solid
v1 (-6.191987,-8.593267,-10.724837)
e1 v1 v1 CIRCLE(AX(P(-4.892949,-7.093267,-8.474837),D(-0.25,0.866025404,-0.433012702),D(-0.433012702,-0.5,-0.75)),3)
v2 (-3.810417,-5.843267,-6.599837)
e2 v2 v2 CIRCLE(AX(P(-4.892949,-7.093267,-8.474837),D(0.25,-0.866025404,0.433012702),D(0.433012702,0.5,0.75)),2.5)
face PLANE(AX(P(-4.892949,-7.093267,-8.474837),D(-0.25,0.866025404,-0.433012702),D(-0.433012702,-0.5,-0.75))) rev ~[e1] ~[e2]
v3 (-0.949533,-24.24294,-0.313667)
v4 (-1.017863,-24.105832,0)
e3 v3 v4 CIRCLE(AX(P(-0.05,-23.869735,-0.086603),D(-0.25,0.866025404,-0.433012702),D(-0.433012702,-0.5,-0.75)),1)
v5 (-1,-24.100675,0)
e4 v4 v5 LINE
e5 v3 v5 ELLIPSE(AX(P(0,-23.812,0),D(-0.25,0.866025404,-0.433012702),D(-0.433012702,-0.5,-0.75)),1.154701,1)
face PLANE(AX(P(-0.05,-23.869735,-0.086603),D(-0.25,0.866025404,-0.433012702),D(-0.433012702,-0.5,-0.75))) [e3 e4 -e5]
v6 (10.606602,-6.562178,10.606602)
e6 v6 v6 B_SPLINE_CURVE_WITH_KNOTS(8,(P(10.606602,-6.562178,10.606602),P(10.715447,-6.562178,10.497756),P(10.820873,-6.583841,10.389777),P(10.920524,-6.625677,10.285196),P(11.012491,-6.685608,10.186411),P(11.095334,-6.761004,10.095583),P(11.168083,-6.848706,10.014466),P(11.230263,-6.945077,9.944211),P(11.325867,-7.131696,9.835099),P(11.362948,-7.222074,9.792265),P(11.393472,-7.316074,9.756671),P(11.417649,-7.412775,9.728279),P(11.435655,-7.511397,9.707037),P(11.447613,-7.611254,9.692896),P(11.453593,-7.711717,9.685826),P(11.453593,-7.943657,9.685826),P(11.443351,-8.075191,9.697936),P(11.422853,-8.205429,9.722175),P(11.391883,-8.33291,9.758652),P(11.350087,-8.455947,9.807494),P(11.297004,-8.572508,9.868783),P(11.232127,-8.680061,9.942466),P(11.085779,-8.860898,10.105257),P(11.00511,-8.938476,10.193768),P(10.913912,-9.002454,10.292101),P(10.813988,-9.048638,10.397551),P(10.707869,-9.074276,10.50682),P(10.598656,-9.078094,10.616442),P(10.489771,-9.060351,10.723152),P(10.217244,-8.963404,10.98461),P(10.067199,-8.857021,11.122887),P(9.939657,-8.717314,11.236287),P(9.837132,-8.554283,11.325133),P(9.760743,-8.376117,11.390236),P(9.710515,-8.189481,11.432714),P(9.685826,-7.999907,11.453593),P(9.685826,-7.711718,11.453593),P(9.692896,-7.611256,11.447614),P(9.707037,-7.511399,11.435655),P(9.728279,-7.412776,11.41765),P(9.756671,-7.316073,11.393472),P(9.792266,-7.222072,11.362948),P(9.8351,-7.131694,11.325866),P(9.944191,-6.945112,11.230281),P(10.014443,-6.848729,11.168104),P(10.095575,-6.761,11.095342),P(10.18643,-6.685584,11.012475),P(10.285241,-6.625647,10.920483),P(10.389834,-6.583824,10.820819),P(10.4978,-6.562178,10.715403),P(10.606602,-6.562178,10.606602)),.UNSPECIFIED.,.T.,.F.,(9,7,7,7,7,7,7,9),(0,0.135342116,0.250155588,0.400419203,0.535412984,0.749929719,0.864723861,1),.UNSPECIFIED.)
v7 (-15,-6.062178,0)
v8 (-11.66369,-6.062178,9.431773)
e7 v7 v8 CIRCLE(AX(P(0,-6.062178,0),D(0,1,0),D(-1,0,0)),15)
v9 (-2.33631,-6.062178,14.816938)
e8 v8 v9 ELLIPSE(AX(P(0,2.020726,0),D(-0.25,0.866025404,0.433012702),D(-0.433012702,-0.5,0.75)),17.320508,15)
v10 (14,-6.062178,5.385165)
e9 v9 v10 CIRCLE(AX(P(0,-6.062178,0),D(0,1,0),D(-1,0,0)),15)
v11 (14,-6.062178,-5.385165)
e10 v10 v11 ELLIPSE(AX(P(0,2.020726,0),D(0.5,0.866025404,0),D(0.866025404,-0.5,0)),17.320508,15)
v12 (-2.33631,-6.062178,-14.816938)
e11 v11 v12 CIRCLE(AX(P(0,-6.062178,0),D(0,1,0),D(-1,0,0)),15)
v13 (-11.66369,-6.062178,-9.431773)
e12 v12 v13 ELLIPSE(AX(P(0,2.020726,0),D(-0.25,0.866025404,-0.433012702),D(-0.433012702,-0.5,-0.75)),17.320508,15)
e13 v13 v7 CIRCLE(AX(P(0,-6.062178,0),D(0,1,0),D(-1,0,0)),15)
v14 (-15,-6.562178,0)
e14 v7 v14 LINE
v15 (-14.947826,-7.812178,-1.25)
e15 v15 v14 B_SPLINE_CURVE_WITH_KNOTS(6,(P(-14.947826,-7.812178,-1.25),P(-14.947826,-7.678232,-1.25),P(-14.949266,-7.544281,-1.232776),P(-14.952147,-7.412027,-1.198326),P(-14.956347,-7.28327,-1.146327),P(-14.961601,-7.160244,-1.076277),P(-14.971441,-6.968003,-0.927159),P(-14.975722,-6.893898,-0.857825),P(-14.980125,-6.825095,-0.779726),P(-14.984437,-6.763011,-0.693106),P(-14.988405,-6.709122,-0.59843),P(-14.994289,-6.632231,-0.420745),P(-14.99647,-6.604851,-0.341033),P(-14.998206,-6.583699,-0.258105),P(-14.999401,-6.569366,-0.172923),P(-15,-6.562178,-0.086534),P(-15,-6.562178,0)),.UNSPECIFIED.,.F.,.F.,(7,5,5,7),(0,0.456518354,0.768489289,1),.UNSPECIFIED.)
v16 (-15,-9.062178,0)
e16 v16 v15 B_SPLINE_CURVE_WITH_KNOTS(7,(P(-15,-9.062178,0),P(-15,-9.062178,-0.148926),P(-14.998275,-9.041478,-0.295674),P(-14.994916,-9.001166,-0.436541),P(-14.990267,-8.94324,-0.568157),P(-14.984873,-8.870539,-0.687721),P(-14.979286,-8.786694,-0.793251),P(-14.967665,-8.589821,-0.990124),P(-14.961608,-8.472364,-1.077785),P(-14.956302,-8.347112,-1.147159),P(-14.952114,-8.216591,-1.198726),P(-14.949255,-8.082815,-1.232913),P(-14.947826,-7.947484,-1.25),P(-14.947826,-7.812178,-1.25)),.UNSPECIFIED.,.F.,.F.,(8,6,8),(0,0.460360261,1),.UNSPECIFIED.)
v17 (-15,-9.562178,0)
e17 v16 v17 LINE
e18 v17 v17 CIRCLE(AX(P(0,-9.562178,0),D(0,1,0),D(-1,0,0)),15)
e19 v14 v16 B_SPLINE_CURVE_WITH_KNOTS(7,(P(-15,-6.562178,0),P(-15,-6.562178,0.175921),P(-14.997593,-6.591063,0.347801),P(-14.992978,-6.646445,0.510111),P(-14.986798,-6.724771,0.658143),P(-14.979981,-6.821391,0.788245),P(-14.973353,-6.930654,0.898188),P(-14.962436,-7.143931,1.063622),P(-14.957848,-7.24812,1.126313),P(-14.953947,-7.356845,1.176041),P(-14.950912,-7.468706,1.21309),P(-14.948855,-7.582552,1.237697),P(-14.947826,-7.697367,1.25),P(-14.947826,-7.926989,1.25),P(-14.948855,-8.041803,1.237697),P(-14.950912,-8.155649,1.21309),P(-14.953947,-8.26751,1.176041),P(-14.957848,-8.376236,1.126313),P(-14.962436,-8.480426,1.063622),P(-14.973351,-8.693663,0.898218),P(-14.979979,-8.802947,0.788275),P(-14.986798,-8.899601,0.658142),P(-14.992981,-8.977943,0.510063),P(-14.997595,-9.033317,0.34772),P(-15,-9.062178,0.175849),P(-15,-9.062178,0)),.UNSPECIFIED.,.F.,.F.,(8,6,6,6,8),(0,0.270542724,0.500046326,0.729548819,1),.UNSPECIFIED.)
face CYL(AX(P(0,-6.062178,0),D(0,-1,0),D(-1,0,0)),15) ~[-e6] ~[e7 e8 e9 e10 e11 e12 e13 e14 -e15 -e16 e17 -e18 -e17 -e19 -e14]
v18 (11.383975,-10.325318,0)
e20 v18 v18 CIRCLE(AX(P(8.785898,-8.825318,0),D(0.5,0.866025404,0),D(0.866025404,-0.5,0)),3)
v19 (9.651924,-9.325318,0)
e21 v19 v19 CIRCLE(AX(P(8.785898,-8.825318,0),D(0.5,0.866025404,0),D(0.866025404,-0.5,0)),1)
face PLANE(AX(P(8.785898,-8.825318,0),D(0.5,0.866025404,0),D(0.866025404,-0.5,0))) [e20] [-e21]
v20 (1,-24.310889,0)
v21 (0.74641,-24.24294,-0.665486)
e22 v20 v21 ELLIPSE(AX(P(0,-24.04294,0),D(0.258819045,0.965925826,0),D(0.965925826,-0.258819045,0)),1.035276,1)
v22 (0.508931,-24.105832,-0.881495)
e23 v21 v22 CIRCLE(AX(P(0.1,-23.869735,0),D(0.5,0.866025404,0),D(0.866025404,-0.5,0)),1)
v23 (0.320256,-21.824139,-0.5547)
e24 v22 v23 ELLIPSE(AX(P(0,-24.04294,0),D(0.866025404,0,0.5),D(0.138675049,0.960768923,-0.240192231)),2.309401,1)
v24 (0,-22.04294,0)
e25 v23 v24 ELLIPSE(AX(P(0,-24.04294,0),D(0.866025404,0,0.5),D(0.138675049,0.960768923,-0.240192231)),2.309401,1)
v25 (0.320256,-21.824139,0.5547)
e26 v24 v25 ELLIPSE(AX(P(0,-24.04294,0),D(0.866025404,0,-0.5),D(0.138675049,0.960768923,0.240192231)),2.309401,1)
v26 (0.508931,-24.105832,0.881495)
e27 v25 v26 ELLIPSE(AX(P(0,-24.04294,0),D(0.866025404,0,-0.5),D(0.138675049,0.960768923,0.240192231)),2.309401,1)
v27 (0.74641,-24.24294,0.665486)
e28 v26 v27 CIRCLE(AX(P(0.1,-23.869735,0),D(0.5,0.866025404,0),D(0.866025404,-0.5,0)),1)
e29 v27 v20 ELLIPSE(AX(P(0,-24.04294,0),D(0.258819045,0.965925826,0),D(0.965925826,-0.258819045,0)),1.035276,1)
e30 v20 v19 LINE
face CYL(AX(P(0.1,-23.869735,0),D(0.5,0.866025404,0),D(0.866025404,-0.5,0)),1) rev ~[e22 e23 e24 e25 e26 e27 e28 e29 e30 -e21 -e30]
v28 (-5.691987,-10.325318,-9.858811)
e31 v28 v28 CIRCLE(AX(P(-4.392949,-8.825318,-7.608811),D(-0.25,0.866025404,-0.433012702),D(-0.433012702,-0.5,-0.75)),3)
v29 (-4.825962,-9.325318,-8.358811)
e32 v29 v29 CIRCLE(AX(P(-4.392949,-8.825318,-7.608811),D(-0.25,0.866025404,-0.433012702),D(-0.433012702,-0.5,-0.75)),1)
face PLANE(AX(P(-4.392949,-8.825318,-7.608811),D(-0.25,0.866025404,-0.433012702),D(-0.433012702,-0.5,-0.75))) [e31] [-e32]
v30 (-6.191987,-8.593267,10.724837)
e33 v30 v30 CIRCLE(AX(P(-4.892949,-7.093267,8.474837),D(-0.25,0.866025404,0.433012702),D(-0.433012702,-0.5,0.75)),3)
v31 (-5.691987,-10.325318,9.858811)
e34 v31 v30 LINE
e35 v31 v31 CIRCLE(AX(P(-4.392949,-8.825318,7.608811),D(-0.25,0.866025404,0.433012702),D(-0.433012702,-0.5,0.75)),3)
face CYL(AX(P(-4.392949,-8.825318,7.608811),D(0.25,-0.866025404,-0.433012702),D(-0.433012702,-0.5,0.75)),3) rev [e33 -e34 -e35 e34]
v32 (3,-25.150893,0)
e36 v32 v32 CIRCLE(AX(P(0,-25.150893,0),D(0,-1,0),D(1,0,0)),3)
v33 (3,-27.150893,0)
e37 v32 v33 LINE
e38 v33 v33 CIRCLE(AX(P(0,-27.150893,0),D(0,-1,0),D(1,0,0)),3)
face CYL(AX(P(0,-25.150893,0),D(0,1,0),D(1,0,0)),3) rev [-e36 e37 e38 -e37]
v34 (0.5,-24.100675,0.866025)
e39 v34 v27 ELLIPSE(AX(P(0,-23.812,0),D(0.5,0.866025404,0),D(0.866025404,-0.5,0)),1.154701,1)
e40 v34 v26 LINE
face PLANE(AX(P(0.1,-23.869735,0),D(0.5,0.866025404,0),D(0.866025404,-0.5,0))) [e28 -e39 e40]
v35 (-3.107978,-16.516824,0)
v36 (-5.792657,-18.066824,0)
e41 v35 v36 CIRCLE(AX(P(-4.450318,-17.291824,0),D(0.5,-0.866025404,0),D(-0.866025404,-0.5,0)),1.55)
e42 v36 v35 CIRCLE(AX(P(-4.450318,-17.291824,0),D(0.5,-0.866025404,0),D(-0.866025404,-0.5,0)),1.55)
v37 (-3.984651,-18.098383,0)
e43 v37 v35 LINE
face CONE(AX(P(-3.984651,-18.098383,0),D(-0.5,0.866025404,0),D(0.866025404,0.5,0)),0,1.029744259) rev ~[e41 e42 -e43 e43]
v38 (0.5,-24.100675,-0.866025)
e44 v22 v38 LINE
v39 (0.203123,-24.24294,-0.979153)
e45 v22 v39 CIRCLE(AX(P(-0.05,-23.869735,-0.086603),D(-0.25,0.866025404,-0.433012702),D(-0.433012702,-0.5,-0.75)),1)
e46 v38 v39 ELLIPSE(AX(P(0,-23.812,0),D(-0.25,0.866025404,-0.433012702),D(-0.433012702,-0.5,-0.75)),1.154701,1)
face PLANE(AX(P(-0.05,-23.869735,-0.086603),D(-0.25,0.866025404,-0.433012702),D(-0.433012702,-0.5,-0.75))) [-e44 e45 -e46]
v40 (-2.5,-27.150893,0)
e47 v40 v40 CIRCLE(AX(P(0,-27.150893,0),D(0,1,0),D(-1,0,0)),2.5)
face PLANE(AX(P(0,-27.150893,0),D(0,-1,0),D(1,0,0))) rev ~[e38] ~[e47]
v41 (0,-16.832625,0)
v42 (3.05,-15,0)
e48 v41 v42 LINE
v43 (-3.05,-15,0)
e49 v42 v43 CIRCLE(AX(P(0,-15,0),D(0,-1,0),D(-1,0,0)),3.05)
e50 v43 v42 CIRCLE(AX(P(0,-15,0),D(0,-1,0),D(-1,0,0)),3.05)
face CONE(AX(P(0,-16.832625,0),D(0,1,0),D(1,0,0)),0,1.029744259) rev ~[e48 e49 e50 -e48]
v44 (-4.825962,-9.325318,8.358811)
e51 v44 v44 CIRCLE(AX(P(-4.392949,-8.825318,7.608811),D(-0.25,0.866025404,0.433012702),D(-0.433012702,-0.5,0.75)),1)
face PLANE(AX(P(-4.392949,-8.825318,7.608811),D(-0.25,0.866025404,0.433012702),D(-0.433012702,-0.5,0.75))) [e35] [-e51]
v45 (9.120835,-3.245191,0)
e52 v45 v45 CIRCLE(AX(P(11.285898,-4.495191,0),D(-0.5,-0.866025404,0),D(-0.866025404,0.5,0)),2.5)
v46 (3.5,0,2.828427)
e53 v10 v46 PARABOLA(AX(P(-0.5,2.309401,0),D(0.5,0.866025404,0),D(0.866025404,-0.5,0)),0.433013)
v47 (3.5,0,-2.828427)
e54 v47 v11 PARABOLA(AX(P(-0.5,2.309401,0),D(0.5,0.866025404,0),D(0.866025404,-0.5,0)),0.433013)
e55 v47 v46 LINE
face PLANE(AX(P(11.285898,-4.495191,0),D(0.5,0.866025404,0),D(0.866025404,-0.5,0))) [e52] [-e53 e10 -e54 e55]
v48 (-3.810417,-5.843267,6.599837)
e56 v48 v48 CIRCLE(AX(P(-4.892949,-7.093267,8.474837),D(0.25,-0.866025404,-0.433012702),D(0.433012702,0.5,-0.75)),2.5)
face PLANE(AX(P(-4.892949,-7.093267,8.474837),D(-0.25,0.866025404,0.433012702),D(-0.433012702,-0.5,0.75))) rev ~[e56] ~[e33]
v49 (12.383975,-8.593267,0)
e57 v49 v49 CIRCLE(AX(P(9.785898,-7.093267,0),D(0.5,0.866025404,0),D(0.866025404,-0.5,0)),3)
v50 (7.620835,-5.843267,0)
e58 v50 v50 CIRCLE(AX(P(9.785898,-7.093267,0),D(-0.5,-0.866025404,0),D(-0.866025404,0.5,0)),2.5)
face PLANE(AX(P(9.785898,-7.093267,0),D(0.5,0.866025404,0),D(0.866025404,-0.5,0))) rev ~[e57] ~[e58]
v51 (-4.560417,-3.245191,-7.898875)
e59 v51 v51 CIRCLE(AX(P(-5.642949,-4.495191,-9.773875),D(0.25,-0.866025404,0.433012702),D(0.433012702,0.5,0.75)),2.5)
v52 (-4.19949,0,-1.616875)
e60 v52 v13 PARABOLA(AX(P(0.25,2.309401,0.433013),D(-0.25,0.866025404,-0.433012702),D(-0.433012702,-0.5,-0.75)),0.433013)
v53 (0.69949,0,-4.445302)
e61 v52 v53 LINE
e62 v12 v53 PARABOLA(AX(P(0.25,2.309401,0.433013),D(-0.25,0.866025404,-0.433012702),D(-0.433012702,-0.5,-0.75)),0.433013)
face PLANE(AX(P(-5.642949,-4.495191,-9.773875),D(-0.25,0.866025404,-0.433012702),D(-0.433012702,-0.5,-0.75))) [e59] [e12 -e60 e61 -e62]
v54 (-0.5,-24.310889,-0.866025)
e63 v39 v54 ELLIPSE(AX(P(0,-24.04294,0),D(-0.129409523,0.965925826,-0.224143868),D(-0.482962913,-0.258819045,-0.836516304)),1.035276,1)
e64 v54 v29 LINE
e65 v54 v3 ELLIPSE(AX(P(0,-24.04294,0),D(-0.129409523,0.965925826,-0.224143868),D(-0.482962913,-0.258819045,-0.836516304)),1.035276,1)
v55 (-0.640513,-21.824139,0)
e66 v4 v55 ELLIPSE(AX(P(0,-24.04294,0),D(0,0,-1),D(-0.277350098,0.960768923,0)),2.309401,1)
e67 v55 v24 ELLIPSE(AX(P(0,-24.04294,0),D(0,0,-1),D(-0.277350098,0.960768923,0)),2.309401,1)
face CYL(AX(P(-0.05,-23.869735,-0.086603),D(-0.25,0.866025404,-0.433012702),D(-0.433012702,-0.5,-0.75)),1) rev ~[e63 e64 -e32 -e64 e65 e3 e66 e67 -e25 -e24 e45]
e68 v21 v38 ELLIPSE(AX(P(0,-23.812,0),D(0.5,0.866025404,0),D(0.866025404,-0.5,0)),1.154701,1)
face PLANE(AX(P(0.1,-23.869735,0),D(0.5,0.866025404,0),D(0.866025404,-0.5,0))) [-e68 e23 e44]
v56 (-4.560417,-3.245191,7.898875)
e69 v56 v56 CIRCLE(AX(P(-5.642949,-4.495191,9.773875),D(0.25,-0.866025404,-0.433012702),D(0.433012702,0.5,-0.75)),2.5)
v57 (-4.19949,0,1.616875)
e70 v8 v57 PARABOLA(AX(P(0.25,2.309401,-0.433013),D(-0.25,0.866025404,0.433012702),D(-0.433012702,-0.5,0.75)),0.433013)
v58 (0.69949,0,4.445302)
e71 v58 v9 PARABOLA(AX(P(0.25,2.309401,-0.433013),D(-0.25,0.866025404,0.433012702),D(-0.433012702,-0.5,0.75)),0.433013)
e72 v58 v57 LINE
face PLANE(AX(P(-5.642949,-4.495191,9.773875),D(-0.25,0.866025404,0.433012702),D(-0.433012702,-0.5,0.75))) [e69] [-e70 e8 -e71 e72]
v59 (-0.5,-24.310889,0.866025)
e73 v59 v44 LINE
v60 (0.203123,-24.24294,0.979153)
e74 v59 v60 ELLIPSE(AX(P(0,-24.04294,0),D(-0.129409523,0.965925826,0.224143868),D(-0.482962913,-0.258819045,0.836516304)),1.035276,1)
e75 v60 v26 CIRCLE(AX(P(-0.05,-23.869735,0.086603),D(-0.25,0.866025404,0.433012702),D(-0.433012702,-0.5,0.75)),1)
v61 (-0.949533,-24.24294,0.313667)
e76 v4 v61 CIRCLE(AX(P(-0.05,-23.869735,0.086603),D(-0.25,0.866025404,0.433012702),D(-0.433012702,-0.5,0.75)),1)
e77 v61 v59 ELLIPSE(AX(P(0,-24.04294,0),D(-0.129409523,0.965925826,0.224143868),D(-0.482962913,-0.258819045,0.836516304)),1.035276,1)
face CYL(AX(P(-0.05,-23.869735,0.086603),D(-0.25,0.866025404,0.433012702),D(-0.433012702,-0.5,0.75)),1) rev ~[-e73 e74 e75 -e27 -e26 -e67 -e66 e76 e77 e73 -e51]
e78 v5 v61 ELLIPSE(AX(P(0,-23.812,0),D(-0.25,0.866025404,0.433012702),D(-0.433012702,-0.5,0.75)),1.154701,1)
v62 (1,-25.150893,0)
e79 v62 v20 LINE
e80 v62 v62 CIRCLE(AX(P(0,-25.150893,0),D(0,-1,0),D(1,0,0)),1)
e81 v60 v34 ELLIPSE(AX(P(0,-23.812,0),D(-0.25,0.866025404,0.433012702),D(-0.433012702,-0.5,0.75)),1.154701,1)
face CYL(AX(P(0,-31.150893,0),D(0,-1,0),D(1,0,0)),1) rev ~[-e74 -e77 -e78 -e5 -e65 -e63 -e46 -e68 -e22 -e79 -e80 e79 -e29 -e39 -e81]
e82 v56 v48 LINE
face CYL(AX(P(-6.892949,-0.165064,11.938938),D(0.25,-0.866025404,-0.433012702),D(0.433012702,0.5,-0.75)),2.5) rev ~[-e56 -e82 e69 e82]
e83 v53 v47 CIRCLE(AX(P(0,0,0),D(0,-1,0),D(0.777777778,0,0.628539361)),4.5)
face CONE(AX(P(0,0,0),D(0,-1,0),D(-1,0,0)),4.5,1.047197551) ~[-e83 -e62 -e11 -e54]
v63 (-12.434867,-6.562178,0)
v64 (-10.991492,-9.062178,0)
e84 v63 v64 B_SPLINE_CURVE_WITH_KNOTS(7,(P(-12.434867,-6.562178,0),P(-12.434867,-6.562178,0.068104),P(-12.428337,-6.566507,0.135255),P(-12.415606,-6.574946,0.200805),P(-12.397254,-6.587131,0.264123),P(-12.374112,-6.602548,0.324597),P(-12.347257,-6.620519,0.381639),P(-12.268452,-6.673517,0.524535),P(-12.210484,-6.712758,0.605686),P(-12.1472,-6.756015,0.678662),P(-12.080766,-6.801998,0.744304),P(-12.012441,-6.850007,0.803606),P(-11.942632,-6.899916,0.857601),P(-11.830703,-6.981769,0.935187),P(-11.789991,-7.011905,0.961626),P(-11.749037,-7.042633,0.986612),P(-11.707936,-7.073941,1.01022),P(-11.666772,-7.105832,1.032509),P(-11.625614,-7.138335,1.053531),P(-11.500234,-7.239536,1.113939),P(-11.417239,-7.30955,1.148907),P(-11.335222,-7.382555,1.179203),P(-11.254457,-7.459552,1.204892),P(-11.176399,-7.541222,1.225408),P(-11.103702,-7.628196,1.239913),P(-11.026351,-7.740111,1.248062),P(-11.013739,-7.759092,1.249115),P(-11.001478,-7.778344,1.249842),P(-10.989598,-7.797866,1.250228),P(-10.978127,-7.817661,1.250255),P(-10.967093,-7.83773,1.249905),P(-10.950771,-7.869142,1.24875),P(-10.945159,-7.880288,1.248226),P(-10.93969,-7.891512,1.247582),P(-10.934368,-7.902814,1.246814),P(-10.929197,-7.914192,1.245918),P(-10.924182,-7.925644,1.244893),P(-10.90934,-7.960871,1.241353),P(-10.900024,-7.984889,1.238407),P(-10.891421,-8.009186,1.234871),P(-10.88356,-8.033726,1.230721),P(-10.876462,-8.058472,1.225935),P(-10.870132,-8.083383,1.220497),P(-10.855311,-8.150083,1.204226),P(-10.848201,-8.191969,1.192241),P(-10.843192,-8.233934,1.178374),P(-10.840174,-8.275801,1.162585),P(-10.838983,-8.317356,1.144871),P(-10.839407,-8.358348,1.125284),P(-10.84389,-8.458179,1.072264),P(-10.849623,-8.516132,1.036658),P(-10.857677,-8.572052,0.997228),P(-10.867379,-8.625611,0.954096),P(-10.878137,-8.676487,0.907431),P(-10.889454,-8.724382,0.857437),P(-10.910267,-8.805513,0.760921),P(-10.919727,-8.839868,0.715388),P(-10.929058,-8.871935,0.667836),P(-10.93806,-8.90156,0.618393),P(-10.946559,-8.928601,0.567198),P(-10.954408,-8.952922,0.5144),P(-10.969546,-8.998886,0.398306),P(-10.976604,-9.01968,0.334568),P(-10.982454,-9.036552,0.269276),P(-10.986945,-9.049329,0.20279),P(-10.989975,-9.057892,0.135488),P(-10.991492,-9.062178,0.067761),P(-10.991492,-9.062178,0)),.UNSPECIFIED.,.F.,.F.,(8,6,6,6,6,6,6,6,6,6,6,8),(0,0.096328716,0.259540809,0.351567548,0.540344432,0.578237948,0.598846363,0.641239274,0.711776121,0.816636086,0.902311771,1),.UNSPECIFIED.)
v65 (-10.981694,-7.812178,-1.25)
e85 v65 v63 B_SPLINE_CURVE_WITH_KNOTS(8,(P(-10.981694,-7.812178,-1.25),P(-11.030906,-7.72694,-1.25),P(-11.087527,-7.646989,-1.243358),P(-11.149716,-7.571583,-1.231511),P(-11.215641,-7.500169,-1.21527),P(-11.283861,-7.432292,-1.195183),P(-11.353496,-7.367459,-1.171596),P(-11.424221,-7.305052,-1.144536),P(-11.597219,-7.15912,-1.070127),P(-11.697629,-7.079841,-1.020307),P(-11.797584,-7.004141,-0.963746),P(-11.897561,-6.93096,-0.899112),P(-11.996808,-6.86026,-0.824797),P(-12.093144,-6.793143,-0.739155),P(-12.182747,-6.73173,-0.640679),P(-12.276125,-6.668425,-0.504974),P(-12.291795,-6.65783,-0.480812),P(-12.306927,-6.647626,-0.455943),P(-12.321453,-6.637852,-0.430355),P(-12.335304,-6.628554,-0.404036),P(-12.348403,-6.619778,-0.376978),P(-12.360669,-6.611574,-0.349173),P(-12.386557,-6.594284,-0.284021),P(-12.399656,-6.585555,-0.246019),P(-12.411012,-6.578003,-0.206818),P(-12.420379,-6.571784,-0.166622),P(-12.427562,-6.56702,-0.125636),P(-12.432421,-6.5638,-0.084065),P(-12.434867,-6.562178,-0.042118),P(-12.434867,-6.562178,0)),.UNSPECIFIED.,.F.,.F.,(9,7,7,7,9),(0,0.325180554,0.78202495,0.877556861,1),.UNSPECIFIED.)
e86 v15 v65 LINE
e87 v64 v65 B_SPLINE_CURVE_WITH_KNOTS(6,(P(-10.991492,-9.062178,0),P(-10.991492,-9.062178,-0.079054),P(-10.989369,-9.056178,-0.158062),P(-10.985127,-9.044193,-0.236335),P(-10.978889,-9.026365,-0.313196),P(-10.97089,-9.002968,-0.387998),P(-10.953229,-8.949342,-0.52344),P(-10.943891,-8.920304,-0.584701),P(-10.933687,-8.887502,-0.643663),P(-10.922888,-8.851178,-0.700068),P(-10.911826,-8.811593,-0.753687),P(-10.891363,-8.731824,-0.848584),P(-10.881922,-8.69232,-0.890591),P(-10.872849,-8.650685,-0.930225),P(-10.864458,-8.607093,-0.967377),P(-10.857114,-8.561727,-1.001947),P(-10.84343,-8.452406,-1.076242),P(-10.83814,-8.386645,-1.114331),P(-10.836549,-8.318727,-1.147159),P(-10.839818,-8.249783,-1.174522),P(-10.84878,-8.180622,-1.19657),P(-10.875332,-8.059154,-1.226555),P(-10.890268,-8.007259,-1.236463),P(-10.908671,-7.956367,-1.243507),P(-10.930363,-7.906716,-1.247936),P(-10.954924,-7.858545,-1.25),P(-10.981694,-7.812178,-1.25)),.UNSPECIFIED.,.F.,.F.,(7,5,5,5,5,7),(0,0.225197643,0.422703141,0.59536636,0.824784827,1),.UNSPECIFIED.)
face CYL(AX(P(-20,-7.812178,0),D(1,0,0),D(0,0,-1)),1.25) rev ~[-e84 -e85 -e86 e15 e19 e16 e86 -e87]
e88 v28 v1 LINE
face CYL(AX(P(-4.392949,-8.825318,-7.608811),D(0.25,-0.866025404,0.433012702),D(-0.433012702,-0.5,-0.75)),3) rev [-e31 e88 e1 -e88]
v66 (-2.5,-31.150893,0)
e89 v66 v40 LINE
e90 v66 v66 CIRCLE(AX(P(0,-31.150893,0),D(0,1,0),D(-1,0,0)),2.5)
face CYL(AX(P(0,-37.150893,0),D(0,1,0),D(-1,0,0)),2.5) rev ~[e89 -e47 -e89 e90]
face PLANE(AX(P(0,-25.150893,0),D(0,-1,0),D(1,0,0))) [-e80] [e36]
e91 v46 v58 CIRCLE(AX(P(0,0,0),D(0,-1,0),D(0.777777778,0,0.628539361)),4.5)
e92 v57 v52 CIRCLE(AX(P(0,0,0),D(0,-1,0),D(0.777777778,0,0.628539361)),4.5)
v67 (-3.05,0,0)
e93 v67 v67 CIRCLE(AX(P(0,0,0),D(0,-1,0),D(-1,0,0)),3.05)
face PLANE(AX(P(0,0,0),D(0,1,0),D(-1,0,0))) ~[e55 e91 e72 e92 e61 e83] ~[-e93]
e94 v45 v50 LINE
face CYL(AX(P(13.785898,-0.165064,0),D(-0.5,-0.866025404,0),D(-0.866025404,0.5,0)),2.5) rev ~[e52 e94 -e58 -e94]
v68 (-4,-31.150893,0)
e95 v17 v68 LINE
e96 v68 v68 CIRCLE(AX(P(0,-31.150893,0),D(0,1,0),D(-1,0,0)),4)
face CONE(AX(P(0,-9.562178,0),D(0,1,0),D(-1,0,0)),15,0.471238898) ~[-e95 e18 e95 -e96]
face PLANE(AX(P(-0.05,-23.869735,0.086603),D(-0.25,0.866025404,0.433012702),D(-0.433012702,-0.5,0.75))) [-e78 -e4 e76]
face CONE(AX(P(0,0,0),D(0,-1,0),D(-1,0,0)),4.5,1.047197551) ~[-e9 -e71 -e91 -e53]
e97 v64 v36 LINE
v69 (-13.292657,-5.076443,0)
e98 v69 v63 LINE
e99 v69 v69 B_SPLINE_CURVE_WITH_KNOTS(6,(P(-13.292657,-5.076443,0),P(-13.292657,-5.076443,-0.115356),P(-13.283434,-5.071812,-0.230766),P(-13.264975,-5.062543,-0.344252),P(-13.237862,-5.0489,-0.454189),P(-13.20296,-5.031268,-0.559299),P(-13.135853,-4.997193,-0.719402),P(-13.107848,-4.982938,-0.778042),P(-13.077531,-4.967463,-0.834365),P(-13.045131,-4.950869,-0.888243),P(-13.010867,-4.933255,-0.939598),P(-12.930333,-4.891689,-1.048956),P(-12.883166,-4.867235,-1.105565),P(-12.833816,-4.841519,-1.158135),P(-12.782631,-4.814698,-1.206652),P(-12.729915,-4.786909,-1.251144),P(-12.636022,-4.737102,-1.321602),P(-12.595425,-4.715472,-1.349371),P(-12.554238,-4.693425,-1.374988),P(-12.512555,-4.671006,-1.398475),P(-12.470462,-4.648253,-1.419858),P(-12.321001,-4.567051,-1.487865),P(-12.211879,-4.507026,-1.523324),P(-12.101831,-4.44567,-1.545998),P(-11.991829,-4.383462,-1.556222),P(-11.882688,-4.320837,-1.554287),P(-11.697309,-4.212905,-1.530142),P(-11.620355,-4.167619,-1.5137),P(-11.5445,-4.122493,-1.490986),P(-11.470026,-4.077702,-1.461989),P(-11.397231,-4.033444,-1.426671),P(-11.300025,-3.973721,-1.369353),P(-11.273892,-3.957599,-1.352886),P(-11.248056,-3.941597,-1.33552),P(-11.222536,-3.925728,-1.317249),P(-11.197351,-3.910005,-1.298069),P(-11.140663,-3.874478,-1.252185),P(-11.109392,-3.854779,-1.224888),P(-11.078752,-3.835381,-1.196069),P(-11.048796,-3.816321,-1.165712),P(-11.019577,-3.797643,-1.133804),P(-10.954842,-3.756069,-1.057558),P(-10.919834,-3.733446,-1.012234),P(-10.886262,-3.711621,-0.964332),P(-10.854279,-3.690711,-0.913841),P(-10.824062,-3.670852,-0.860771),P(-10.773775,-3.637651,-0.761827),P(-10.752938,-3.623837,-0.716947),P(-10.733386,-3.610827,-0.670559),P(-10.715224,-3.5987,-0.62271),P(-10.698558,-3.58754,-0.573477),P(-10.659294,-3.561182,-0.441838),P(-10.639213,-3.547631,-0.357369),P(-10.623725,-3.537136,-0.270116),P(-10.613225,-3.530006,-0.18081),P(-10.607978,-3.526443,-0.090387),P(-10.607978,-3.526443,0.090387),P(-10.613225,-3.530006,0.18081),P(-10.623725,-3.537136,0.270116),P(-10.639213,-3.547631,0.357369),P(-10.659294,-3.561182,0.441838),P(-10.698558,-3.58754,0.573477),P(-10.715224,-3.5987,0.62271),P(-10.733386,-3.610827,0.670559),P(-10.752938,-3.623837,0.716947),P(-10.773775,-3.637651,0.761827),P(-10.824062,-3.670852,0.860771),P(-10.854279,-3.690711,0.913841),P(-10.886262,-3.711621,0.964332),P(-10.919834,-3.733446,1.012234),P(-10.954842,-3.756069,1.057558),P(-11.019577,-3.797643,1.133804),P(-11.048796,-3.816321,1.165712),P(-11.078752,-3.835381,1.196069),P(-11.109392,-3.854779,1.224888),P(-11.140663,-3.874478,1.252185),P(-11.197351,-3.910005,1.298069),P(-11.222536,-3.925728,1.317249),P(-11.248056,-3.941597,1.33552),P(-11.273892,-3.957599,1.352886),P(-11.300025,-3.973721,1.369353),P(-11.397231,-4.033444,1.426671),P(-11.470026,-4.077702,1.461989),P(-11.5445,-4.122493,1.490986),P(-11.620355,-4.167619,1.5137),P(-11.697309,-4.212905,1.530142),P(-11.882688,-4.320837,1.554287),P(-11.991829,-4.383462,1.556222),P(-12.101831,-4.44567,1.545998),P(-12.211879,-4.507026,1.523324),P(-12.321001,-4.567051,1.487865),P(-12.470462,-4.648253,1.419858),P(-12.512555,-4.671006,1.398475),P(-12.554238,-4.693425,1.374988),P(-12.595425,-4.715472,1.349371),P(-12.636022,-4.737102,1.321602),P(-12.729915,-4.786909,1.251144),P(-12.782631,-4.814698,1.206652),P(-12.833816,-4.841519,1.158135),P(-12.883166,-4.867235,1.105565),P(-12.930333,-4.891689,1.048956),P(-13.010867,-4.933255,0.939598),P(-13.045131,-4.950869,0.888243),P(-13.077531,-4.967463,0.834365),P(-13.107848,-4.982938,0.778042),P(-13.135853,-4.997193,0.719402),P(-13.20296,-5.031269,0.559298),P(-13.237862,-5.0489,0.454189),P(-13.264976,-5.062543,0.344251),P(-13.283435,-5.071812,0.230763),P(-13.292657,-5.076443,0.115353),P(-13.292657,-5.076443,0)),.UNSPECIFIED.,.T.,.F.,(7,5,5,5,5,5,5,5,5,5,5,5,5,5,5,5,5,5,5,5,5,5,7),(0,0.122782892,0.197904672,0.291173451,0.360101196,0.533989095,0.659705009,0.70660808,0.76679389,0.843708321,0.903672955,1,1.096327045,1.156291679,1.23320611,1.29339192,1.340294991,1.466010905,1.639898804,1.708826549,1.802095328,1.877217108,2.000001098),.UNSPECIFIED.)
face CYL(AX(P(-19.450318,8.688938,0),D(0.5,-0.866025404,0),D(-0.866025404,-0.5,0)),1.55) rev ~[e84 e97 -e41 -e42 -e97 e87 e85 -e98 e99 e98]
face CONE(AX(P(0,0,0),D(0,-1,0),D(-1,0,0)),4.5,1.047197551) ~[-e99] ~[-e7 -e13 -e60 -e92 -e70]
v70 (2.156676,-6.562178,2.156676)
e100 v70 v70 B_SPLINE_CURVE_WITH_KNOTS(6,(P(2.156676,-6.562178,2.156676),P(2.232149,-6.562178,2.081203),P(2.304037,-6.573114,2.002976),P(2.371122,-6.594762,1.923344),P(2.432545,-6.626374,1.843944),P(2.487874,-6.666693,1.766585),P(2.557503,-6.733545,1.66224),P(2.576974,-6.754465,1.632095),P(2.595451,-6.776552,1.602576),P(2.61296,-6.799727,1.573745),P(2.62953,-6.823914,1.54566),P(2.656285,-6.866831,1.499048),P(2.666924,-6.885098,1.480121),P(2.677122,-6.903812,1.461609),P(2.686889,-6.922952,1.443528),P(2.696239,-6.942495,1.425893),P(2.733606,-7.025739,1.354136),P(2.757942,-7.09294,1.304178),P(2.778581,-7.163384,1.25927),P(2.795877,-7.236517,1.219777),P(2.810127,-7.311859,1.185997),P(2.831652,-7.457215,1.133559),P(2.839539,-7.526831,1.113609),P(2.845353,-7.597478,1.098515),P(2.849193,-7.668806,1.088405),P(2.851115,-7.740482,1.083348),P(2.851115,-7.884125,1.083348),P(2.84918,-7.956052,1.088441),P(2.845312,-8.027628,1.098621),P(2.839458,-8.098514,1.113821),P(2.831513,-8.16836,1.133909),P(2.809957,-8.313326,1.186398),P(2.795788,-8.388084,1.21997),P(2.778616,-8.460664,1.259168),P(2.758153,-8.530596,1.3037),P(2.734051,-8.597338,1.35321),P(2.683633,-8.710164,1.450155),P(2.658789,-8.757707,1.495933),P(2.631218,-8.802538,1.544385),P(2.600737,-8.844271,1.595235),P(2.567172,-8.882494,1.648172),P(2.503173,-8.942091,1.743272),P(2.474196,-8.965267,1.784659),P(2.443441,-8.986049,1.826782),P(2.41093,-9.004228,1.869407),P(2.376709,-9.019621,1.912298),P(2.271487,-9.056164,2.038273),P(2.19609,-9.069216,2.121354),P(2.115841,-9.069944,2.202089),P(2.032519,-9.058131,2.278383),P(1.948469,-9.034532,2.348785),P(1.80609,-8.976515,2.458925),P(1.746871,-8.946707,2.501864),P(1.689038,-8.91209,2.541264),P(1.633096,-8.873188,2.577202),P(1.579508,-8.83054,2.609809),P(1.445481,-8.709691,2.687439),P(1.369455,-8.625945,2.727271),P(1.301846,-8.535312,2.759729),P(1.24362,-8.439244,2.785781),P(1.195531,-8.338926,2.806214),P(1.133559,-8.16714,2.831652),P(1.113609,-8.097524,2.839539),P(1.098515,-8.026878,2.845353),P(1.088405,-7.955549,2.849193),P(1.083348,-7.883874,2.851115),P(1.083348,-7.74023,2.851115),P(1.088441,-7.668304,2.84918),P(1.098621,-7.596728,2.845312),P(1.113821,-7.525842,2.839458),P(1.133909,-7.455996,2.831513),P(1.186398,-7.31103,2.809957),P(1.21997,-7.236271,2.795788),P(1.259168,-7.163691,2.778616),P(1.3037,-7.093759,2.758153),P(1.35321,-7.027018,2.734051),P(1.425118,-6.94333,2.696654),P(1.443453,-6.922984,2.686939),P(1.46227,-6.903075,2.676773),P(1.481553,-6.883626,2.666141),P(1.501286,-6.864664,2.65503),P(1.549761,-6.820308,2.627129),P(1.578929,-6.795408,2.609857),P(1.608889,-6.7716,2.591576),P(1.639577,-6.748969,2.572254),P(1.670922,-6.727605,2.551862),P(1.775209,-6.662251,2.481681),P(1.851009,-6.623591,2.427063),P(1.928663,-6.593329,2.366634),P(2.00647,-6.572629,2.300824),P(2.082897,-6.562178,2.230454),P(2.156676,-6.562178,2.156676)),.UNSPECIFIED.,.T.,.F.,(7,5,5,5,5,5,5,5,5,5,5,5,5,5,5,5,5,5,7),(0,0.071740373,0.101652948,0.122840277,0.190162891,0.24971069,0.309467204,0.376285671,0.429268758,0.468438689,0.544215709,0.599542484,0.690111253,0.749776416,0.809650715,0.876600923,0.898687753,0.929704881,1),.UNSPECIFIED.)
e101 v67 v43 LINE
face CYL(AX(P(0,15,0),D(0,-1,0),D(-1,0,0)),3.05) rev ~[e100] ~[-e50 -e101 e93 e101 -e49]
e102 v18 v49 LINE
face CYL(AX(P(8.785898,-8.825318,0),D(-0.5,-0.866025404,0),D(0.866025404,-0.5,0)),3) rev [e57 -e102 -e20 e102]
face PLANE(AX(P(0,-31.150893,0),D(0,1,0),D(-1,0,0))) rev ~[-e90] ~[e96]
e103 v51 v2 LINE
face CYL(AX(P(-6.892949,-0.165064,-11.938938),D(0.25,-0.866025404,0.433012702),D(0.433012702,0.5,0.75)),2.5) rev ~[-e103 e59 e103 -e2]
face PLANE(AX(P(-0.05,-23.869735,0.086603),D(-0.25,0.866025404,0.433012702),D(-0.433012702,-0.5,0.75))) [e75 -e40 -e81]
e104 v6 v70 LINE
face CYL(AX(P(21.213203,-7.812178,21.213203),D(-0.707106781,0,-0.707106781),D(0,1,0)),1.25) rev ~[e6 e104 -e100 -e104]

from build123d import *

# Parameters (mm, degrees)
HOLE_WIZARD_M6_1_D       = 6.1
HOLE_WIZARD_M6_1_DEPTH   = 15
HOLE_WIZARD_M6_1_TIP     = 1.832624888
SWEEP_1_PROFILE_R        = 1
SKETCH_66_W              = 50.055068194
SKETCH_66_H              = 43.519791528
CUT_EXTRUDE_4_DEPTH      = 10
HOLE_WIZARD_M6_2_D       = 5
HOLE_WIZARD_M6_2_DEPTH   = 5
PATTERN_CIRCULAR_3_COUNT = 3
SKETCH_33_R              = 1
CUT_EXTRUDE_3_DEPTH      = 8
HOLE_WIZARD_M6_3_D       = 5
HOLE_WIZARD_M6_3_DEPTH   = 6
HOLE_WIZARD_M3_1_D       = 2.5
HOLE_WIZARD_M3_1_DEPTH   = 5
HOLE_WIZARD_M3_1_TIP     = 0.751075774
HOLE_WIZARD_M3_2_D       = 2.5
HOLE_WIZARD_M3_2_DEPTH   = 15
HOLE_WIZARD_M3_2_TIP     = 0.751075774
HOLE_WIZARD_M6_3_2_D     = 3.1
HOLE_WIZARD_M6_3_2_DEPTH = 15
HOLE_WIZARD_M6_3_2_TIP   = 0.931333959
SKETCH_90_R              = 2.5
SKETCH_90_R_2            = 1
SKETCH_90_R_3            = 3
CUT_EXTRUDE_5_DEPTH      = 2
PATTERN_CIRCULAR_5_COUNT = 3
SKETCH_91_R              = 2.5
SKETCH_91_R_2            = 1
SKETCH_91_R_3            = 3
CUT_EXTRUDE_6_DEPTH      = 2


with BuildPart() as part:
    # ｽｹｯﾁ1 → 回転1 (revolve)
    with BuildSketch(Plane.XY):
        Polygon((-15, -9.562177826), (-4, -31.150893387), (0, -31.150893387), (0, 0), (-4.5, 0), (-15, -6.062177826), align=None)
    revolve(axis=Axis((0, -31.150893387, 0), (0, 1, 0)))

    # M6 すきま穴1
    with Locations(Plane(origin=(0, 0, 0), x_dir=(1, 0, 0), z_dir=(0, 1, 0))):
        with Locations((0, 0)):
            Hole(HOLE_WIZARD_M6_1_D / 2, depth=HOLE_WIZARD_M6_1_DEPTH)
            with Locations((0, 0, -(HOLE_WIZARD_M6_1_DEPTH + HOLE_WIZARD_M6_1_TIP / 2))):  # 118° drill point
                Cone(0, HOLE_WIZARD_M6_1_D / 2, HOLE_WIZARD_M6_1_TIP, mode=Mode.SUBTRACT)

    # ｶｯﾄ - ｽｲｰﾌﾟ1: sweep along a path in ｽｹｯﾁ13
    with BuildLine(Plane.XY) as sweep_1_path:
        Line((0.1, -23.869734859), (15.075399934, 2.06841869))
    # ｶｯﾄ - ｽｲｰﾌﾟ1 profile (on start of the path) → ｶｯﾄ - ｽｲｰﾌﾟ1 (sweep, cut)
    with BuildSketch(Plane(origin=(0.1, -23.869734859, 0), x_dir=(0.866025404, -0.5, 0), z_dir=(0.5, 0.866025404, 0))):
        Circle(SWEEP_1_PROFILE_R)
    sweep_1 = sweep(path=sweep_1_path.line, mode=Mode.SUBTRACT)

    # ｽｹｯﾁ66 → ｶｯﾄ - 押し出し4 (cut)
    with BuildSketch(Plane(origin=(0.875, 1.515544457, 0), x_dir=(0.866025404, -0.5, 0), z_dir=(0.5, 0.866025404, 0))):
        with Locations((12.02146997, 0)):
            Rectangle(SKETCH_66_W, SKETCH_66_H)
    cut_extrude_4 = extrude(amount=CUT_EXTRUDE_4_DEPTH, mode=Mode.SUBTRACT)

    # Hole Wizard M6 _2
    with Locations(Plane(origin=(0.875, 1.515544457, 0), x_dir=(0.866025404, -0.5, 0), z_dir=(0.5, 0.866025404, 0))):
        with Locations((12.02146997, 0)):
            hole_wizard_m6_2 = Hole(HOLE_WIZARD_M6_2_D / 2, depth=HOLE_WIZARD_M6_2_DEPTH)

    # 円形ﾊﾟﾀｰﾝ3: ｶｯﾄ - ｽｲｰﾌﾟ1, ｶｯﾄ - 押し出し4, Hole Wizard M6 _2 ×3 about axis
    pattern_circular_3_axis = Axis((0, 0, 0), (0, 1, 0))
    for i in range(1, PATTERN_CIRCULAR_3_COUNT):
        add(sweep_1.rotate(pattern_circular_3_axis, i * 360 / PATTERN_CIRCULAR_3_COUNT), mode=Mode.SUBTRACT)
        add(cut_extrude_4.rotate(pattern_circular_3_axis, i * 360 / PATTERN_CIRCULAR_3_COUNT), mode=Mode.SUBTRACT)
        add(hole_wizard_m6_2.rotate(pattern_circular_3_axis, i * 360 / PATTERN_CIRCULAR_3_COUNT), mode=Mode.SUBTRACT)

    # ｽｹｯﾁ33 → ｶｯﾄ - 押し出し3 (cut)
    with BuildSketch(Plane.XZ.offset(31.150893387)):
        Circle(SKETCH_33_R)
    extrude(amount=-CUT_EXTRUDE_3_DEPTH, mode=Mode.SUBTRACT)

    # Hole Wizard M6 _3
    with Locations(Plane.XZ.offset(31.150893387)):
        with Locations((0, 0)):
            Hole(HOLE_WIZARD_M6_3_D / 2, depth=HOLE_WIZARD_M6_3_DEPTH)

    # M3 ねじ穴1
    with Locations(Plane.ZY.offset(15)):
        with Locations((0, -7.812177826)):
            Hole(HOLE_WIZARD_M3_1_D / 2, depth=HOLE_WIZARD_M3_1_DEPTH)
            with Locations((0, 0, -(HOLE_WIZARD_M3_1_DEPTH + HOLE_WIZARD_M3_1_TIP / 2))):  # 118° drill point
                Cone(0, HOLE_WIZARD_M3_1_D / 2, HOLE_WIZARD_M3_1_TIP, mode=Mode.SUBTRACT)

    # M3 ねじ穴2
    with Locations(Plane(origin=(10.606601718, 0, 10.606601718), x_dir=(0, -1, 0), z_dir=(0.707106781, 0, 0.707106781))):
        with Locations((7.812177826, 0)):
            Hole(HOLE_WIZARD_M3_2_D / 2, depth=HOLE_WIZARD_M3_2_DEPTH)
            with Locations((0, 0, -(HOLE_WIZARD_M3_2_DEPTH + HOLE_WIZARD_M3_2_TIP / 2))):  # 118° drill point
                Cone(0, HOLE_WIZARD_M3_2_D / 2, HOLE_WIZARD_M3_2_TIP, mode=Mode.SUBTRACT)

    # Hole Wizard M6 _3 2
    with Locations(Plane(origin=(-1.125, 1.948557159, 0), x_dir=(0.866025404, 0.5, 0), z_dir=(-0.5, 0.866025404, 0))):
        with Locations((-12.5, 0)):
            Hole(HOLE_WIZARD_M6_3_2_D / 2, depth=HOLE_WIZARD_M6_3_2_DEPTH)
            with Locations((0, 0, -(HOLE_WIZARD_M6_3_2_DEPTH + HOLE_WIZARD_M6_3_2_TIP / 2))):  # 118° drill point
                Cone(0, HOLE_WIZARD_M6_3_2_D / 2, HOLE_WIZARD_M6_3_2_TIP, mode=Mode.SUBTRACT)

    # ｽｹｯﾁ90 → ｶｯﾄ - 押し出し5 (cut)
    with BuildSketch(Plane(origin=(-1.625, -2.814582562, 0), x_dir=(0.866025404, -0.5, 0), z_dir=(0.5, 0.866025404, 0))):
        with Locations((12.02146997, 0)):
            Circle(SKETCH_90_R)
        with Locations((12.02146997, 0)):
            Circle(SKETCH_90_R_2, mode=Mode.SUBTRACT)
        with Locations((12.02146997, 0)):
            Circle(SKETCH_90_R_3)
        with Locations((12.02146997, 0)):
            Circle(SKETCH_90_R, mode=Mode.SUBTRACT)
    cut_extrude_5 = extrude(amount=CUT_EXTRUDE_5_DEPTH, mode=Mode.SUBTRACT)

    # 円形ﾊﾟﾀｰﾝ5: ｶｯﾄ - 押し出し5 ×3 about axis
    pattern_circular_5_axis = Axis((0, 0, 0), (0, 1, 0))
    for i in range(1, PATTERN_CIRCULAR_5_COUNT):
        add(cut_extrude_5.rotate(pattern_circular_5_axis, i * 360 / PATTERN_CIRCULAR_5_COUNT), mode=Mode.SUBTRACT)

    # ｽｹｯﾁ91 → ｶｯﾄ - 押し出し6 (cut)
    with BuildSketch(Plane.XZ.offset(25.150893387)):
        Circle(SKETCH_91_R)
        Circle(SKETCH_91_R_2, mode=Mode.SUBTRACT)
        Circle(SKETCH_91_R_3)
        Circle(SKETCH_91_R, mode=Mode.SUBTRACT)
    extrude(amount=CUT_EXTRUDE_6_DEPTH, mode=Mode.SUBTRACT)


solid = part.part
